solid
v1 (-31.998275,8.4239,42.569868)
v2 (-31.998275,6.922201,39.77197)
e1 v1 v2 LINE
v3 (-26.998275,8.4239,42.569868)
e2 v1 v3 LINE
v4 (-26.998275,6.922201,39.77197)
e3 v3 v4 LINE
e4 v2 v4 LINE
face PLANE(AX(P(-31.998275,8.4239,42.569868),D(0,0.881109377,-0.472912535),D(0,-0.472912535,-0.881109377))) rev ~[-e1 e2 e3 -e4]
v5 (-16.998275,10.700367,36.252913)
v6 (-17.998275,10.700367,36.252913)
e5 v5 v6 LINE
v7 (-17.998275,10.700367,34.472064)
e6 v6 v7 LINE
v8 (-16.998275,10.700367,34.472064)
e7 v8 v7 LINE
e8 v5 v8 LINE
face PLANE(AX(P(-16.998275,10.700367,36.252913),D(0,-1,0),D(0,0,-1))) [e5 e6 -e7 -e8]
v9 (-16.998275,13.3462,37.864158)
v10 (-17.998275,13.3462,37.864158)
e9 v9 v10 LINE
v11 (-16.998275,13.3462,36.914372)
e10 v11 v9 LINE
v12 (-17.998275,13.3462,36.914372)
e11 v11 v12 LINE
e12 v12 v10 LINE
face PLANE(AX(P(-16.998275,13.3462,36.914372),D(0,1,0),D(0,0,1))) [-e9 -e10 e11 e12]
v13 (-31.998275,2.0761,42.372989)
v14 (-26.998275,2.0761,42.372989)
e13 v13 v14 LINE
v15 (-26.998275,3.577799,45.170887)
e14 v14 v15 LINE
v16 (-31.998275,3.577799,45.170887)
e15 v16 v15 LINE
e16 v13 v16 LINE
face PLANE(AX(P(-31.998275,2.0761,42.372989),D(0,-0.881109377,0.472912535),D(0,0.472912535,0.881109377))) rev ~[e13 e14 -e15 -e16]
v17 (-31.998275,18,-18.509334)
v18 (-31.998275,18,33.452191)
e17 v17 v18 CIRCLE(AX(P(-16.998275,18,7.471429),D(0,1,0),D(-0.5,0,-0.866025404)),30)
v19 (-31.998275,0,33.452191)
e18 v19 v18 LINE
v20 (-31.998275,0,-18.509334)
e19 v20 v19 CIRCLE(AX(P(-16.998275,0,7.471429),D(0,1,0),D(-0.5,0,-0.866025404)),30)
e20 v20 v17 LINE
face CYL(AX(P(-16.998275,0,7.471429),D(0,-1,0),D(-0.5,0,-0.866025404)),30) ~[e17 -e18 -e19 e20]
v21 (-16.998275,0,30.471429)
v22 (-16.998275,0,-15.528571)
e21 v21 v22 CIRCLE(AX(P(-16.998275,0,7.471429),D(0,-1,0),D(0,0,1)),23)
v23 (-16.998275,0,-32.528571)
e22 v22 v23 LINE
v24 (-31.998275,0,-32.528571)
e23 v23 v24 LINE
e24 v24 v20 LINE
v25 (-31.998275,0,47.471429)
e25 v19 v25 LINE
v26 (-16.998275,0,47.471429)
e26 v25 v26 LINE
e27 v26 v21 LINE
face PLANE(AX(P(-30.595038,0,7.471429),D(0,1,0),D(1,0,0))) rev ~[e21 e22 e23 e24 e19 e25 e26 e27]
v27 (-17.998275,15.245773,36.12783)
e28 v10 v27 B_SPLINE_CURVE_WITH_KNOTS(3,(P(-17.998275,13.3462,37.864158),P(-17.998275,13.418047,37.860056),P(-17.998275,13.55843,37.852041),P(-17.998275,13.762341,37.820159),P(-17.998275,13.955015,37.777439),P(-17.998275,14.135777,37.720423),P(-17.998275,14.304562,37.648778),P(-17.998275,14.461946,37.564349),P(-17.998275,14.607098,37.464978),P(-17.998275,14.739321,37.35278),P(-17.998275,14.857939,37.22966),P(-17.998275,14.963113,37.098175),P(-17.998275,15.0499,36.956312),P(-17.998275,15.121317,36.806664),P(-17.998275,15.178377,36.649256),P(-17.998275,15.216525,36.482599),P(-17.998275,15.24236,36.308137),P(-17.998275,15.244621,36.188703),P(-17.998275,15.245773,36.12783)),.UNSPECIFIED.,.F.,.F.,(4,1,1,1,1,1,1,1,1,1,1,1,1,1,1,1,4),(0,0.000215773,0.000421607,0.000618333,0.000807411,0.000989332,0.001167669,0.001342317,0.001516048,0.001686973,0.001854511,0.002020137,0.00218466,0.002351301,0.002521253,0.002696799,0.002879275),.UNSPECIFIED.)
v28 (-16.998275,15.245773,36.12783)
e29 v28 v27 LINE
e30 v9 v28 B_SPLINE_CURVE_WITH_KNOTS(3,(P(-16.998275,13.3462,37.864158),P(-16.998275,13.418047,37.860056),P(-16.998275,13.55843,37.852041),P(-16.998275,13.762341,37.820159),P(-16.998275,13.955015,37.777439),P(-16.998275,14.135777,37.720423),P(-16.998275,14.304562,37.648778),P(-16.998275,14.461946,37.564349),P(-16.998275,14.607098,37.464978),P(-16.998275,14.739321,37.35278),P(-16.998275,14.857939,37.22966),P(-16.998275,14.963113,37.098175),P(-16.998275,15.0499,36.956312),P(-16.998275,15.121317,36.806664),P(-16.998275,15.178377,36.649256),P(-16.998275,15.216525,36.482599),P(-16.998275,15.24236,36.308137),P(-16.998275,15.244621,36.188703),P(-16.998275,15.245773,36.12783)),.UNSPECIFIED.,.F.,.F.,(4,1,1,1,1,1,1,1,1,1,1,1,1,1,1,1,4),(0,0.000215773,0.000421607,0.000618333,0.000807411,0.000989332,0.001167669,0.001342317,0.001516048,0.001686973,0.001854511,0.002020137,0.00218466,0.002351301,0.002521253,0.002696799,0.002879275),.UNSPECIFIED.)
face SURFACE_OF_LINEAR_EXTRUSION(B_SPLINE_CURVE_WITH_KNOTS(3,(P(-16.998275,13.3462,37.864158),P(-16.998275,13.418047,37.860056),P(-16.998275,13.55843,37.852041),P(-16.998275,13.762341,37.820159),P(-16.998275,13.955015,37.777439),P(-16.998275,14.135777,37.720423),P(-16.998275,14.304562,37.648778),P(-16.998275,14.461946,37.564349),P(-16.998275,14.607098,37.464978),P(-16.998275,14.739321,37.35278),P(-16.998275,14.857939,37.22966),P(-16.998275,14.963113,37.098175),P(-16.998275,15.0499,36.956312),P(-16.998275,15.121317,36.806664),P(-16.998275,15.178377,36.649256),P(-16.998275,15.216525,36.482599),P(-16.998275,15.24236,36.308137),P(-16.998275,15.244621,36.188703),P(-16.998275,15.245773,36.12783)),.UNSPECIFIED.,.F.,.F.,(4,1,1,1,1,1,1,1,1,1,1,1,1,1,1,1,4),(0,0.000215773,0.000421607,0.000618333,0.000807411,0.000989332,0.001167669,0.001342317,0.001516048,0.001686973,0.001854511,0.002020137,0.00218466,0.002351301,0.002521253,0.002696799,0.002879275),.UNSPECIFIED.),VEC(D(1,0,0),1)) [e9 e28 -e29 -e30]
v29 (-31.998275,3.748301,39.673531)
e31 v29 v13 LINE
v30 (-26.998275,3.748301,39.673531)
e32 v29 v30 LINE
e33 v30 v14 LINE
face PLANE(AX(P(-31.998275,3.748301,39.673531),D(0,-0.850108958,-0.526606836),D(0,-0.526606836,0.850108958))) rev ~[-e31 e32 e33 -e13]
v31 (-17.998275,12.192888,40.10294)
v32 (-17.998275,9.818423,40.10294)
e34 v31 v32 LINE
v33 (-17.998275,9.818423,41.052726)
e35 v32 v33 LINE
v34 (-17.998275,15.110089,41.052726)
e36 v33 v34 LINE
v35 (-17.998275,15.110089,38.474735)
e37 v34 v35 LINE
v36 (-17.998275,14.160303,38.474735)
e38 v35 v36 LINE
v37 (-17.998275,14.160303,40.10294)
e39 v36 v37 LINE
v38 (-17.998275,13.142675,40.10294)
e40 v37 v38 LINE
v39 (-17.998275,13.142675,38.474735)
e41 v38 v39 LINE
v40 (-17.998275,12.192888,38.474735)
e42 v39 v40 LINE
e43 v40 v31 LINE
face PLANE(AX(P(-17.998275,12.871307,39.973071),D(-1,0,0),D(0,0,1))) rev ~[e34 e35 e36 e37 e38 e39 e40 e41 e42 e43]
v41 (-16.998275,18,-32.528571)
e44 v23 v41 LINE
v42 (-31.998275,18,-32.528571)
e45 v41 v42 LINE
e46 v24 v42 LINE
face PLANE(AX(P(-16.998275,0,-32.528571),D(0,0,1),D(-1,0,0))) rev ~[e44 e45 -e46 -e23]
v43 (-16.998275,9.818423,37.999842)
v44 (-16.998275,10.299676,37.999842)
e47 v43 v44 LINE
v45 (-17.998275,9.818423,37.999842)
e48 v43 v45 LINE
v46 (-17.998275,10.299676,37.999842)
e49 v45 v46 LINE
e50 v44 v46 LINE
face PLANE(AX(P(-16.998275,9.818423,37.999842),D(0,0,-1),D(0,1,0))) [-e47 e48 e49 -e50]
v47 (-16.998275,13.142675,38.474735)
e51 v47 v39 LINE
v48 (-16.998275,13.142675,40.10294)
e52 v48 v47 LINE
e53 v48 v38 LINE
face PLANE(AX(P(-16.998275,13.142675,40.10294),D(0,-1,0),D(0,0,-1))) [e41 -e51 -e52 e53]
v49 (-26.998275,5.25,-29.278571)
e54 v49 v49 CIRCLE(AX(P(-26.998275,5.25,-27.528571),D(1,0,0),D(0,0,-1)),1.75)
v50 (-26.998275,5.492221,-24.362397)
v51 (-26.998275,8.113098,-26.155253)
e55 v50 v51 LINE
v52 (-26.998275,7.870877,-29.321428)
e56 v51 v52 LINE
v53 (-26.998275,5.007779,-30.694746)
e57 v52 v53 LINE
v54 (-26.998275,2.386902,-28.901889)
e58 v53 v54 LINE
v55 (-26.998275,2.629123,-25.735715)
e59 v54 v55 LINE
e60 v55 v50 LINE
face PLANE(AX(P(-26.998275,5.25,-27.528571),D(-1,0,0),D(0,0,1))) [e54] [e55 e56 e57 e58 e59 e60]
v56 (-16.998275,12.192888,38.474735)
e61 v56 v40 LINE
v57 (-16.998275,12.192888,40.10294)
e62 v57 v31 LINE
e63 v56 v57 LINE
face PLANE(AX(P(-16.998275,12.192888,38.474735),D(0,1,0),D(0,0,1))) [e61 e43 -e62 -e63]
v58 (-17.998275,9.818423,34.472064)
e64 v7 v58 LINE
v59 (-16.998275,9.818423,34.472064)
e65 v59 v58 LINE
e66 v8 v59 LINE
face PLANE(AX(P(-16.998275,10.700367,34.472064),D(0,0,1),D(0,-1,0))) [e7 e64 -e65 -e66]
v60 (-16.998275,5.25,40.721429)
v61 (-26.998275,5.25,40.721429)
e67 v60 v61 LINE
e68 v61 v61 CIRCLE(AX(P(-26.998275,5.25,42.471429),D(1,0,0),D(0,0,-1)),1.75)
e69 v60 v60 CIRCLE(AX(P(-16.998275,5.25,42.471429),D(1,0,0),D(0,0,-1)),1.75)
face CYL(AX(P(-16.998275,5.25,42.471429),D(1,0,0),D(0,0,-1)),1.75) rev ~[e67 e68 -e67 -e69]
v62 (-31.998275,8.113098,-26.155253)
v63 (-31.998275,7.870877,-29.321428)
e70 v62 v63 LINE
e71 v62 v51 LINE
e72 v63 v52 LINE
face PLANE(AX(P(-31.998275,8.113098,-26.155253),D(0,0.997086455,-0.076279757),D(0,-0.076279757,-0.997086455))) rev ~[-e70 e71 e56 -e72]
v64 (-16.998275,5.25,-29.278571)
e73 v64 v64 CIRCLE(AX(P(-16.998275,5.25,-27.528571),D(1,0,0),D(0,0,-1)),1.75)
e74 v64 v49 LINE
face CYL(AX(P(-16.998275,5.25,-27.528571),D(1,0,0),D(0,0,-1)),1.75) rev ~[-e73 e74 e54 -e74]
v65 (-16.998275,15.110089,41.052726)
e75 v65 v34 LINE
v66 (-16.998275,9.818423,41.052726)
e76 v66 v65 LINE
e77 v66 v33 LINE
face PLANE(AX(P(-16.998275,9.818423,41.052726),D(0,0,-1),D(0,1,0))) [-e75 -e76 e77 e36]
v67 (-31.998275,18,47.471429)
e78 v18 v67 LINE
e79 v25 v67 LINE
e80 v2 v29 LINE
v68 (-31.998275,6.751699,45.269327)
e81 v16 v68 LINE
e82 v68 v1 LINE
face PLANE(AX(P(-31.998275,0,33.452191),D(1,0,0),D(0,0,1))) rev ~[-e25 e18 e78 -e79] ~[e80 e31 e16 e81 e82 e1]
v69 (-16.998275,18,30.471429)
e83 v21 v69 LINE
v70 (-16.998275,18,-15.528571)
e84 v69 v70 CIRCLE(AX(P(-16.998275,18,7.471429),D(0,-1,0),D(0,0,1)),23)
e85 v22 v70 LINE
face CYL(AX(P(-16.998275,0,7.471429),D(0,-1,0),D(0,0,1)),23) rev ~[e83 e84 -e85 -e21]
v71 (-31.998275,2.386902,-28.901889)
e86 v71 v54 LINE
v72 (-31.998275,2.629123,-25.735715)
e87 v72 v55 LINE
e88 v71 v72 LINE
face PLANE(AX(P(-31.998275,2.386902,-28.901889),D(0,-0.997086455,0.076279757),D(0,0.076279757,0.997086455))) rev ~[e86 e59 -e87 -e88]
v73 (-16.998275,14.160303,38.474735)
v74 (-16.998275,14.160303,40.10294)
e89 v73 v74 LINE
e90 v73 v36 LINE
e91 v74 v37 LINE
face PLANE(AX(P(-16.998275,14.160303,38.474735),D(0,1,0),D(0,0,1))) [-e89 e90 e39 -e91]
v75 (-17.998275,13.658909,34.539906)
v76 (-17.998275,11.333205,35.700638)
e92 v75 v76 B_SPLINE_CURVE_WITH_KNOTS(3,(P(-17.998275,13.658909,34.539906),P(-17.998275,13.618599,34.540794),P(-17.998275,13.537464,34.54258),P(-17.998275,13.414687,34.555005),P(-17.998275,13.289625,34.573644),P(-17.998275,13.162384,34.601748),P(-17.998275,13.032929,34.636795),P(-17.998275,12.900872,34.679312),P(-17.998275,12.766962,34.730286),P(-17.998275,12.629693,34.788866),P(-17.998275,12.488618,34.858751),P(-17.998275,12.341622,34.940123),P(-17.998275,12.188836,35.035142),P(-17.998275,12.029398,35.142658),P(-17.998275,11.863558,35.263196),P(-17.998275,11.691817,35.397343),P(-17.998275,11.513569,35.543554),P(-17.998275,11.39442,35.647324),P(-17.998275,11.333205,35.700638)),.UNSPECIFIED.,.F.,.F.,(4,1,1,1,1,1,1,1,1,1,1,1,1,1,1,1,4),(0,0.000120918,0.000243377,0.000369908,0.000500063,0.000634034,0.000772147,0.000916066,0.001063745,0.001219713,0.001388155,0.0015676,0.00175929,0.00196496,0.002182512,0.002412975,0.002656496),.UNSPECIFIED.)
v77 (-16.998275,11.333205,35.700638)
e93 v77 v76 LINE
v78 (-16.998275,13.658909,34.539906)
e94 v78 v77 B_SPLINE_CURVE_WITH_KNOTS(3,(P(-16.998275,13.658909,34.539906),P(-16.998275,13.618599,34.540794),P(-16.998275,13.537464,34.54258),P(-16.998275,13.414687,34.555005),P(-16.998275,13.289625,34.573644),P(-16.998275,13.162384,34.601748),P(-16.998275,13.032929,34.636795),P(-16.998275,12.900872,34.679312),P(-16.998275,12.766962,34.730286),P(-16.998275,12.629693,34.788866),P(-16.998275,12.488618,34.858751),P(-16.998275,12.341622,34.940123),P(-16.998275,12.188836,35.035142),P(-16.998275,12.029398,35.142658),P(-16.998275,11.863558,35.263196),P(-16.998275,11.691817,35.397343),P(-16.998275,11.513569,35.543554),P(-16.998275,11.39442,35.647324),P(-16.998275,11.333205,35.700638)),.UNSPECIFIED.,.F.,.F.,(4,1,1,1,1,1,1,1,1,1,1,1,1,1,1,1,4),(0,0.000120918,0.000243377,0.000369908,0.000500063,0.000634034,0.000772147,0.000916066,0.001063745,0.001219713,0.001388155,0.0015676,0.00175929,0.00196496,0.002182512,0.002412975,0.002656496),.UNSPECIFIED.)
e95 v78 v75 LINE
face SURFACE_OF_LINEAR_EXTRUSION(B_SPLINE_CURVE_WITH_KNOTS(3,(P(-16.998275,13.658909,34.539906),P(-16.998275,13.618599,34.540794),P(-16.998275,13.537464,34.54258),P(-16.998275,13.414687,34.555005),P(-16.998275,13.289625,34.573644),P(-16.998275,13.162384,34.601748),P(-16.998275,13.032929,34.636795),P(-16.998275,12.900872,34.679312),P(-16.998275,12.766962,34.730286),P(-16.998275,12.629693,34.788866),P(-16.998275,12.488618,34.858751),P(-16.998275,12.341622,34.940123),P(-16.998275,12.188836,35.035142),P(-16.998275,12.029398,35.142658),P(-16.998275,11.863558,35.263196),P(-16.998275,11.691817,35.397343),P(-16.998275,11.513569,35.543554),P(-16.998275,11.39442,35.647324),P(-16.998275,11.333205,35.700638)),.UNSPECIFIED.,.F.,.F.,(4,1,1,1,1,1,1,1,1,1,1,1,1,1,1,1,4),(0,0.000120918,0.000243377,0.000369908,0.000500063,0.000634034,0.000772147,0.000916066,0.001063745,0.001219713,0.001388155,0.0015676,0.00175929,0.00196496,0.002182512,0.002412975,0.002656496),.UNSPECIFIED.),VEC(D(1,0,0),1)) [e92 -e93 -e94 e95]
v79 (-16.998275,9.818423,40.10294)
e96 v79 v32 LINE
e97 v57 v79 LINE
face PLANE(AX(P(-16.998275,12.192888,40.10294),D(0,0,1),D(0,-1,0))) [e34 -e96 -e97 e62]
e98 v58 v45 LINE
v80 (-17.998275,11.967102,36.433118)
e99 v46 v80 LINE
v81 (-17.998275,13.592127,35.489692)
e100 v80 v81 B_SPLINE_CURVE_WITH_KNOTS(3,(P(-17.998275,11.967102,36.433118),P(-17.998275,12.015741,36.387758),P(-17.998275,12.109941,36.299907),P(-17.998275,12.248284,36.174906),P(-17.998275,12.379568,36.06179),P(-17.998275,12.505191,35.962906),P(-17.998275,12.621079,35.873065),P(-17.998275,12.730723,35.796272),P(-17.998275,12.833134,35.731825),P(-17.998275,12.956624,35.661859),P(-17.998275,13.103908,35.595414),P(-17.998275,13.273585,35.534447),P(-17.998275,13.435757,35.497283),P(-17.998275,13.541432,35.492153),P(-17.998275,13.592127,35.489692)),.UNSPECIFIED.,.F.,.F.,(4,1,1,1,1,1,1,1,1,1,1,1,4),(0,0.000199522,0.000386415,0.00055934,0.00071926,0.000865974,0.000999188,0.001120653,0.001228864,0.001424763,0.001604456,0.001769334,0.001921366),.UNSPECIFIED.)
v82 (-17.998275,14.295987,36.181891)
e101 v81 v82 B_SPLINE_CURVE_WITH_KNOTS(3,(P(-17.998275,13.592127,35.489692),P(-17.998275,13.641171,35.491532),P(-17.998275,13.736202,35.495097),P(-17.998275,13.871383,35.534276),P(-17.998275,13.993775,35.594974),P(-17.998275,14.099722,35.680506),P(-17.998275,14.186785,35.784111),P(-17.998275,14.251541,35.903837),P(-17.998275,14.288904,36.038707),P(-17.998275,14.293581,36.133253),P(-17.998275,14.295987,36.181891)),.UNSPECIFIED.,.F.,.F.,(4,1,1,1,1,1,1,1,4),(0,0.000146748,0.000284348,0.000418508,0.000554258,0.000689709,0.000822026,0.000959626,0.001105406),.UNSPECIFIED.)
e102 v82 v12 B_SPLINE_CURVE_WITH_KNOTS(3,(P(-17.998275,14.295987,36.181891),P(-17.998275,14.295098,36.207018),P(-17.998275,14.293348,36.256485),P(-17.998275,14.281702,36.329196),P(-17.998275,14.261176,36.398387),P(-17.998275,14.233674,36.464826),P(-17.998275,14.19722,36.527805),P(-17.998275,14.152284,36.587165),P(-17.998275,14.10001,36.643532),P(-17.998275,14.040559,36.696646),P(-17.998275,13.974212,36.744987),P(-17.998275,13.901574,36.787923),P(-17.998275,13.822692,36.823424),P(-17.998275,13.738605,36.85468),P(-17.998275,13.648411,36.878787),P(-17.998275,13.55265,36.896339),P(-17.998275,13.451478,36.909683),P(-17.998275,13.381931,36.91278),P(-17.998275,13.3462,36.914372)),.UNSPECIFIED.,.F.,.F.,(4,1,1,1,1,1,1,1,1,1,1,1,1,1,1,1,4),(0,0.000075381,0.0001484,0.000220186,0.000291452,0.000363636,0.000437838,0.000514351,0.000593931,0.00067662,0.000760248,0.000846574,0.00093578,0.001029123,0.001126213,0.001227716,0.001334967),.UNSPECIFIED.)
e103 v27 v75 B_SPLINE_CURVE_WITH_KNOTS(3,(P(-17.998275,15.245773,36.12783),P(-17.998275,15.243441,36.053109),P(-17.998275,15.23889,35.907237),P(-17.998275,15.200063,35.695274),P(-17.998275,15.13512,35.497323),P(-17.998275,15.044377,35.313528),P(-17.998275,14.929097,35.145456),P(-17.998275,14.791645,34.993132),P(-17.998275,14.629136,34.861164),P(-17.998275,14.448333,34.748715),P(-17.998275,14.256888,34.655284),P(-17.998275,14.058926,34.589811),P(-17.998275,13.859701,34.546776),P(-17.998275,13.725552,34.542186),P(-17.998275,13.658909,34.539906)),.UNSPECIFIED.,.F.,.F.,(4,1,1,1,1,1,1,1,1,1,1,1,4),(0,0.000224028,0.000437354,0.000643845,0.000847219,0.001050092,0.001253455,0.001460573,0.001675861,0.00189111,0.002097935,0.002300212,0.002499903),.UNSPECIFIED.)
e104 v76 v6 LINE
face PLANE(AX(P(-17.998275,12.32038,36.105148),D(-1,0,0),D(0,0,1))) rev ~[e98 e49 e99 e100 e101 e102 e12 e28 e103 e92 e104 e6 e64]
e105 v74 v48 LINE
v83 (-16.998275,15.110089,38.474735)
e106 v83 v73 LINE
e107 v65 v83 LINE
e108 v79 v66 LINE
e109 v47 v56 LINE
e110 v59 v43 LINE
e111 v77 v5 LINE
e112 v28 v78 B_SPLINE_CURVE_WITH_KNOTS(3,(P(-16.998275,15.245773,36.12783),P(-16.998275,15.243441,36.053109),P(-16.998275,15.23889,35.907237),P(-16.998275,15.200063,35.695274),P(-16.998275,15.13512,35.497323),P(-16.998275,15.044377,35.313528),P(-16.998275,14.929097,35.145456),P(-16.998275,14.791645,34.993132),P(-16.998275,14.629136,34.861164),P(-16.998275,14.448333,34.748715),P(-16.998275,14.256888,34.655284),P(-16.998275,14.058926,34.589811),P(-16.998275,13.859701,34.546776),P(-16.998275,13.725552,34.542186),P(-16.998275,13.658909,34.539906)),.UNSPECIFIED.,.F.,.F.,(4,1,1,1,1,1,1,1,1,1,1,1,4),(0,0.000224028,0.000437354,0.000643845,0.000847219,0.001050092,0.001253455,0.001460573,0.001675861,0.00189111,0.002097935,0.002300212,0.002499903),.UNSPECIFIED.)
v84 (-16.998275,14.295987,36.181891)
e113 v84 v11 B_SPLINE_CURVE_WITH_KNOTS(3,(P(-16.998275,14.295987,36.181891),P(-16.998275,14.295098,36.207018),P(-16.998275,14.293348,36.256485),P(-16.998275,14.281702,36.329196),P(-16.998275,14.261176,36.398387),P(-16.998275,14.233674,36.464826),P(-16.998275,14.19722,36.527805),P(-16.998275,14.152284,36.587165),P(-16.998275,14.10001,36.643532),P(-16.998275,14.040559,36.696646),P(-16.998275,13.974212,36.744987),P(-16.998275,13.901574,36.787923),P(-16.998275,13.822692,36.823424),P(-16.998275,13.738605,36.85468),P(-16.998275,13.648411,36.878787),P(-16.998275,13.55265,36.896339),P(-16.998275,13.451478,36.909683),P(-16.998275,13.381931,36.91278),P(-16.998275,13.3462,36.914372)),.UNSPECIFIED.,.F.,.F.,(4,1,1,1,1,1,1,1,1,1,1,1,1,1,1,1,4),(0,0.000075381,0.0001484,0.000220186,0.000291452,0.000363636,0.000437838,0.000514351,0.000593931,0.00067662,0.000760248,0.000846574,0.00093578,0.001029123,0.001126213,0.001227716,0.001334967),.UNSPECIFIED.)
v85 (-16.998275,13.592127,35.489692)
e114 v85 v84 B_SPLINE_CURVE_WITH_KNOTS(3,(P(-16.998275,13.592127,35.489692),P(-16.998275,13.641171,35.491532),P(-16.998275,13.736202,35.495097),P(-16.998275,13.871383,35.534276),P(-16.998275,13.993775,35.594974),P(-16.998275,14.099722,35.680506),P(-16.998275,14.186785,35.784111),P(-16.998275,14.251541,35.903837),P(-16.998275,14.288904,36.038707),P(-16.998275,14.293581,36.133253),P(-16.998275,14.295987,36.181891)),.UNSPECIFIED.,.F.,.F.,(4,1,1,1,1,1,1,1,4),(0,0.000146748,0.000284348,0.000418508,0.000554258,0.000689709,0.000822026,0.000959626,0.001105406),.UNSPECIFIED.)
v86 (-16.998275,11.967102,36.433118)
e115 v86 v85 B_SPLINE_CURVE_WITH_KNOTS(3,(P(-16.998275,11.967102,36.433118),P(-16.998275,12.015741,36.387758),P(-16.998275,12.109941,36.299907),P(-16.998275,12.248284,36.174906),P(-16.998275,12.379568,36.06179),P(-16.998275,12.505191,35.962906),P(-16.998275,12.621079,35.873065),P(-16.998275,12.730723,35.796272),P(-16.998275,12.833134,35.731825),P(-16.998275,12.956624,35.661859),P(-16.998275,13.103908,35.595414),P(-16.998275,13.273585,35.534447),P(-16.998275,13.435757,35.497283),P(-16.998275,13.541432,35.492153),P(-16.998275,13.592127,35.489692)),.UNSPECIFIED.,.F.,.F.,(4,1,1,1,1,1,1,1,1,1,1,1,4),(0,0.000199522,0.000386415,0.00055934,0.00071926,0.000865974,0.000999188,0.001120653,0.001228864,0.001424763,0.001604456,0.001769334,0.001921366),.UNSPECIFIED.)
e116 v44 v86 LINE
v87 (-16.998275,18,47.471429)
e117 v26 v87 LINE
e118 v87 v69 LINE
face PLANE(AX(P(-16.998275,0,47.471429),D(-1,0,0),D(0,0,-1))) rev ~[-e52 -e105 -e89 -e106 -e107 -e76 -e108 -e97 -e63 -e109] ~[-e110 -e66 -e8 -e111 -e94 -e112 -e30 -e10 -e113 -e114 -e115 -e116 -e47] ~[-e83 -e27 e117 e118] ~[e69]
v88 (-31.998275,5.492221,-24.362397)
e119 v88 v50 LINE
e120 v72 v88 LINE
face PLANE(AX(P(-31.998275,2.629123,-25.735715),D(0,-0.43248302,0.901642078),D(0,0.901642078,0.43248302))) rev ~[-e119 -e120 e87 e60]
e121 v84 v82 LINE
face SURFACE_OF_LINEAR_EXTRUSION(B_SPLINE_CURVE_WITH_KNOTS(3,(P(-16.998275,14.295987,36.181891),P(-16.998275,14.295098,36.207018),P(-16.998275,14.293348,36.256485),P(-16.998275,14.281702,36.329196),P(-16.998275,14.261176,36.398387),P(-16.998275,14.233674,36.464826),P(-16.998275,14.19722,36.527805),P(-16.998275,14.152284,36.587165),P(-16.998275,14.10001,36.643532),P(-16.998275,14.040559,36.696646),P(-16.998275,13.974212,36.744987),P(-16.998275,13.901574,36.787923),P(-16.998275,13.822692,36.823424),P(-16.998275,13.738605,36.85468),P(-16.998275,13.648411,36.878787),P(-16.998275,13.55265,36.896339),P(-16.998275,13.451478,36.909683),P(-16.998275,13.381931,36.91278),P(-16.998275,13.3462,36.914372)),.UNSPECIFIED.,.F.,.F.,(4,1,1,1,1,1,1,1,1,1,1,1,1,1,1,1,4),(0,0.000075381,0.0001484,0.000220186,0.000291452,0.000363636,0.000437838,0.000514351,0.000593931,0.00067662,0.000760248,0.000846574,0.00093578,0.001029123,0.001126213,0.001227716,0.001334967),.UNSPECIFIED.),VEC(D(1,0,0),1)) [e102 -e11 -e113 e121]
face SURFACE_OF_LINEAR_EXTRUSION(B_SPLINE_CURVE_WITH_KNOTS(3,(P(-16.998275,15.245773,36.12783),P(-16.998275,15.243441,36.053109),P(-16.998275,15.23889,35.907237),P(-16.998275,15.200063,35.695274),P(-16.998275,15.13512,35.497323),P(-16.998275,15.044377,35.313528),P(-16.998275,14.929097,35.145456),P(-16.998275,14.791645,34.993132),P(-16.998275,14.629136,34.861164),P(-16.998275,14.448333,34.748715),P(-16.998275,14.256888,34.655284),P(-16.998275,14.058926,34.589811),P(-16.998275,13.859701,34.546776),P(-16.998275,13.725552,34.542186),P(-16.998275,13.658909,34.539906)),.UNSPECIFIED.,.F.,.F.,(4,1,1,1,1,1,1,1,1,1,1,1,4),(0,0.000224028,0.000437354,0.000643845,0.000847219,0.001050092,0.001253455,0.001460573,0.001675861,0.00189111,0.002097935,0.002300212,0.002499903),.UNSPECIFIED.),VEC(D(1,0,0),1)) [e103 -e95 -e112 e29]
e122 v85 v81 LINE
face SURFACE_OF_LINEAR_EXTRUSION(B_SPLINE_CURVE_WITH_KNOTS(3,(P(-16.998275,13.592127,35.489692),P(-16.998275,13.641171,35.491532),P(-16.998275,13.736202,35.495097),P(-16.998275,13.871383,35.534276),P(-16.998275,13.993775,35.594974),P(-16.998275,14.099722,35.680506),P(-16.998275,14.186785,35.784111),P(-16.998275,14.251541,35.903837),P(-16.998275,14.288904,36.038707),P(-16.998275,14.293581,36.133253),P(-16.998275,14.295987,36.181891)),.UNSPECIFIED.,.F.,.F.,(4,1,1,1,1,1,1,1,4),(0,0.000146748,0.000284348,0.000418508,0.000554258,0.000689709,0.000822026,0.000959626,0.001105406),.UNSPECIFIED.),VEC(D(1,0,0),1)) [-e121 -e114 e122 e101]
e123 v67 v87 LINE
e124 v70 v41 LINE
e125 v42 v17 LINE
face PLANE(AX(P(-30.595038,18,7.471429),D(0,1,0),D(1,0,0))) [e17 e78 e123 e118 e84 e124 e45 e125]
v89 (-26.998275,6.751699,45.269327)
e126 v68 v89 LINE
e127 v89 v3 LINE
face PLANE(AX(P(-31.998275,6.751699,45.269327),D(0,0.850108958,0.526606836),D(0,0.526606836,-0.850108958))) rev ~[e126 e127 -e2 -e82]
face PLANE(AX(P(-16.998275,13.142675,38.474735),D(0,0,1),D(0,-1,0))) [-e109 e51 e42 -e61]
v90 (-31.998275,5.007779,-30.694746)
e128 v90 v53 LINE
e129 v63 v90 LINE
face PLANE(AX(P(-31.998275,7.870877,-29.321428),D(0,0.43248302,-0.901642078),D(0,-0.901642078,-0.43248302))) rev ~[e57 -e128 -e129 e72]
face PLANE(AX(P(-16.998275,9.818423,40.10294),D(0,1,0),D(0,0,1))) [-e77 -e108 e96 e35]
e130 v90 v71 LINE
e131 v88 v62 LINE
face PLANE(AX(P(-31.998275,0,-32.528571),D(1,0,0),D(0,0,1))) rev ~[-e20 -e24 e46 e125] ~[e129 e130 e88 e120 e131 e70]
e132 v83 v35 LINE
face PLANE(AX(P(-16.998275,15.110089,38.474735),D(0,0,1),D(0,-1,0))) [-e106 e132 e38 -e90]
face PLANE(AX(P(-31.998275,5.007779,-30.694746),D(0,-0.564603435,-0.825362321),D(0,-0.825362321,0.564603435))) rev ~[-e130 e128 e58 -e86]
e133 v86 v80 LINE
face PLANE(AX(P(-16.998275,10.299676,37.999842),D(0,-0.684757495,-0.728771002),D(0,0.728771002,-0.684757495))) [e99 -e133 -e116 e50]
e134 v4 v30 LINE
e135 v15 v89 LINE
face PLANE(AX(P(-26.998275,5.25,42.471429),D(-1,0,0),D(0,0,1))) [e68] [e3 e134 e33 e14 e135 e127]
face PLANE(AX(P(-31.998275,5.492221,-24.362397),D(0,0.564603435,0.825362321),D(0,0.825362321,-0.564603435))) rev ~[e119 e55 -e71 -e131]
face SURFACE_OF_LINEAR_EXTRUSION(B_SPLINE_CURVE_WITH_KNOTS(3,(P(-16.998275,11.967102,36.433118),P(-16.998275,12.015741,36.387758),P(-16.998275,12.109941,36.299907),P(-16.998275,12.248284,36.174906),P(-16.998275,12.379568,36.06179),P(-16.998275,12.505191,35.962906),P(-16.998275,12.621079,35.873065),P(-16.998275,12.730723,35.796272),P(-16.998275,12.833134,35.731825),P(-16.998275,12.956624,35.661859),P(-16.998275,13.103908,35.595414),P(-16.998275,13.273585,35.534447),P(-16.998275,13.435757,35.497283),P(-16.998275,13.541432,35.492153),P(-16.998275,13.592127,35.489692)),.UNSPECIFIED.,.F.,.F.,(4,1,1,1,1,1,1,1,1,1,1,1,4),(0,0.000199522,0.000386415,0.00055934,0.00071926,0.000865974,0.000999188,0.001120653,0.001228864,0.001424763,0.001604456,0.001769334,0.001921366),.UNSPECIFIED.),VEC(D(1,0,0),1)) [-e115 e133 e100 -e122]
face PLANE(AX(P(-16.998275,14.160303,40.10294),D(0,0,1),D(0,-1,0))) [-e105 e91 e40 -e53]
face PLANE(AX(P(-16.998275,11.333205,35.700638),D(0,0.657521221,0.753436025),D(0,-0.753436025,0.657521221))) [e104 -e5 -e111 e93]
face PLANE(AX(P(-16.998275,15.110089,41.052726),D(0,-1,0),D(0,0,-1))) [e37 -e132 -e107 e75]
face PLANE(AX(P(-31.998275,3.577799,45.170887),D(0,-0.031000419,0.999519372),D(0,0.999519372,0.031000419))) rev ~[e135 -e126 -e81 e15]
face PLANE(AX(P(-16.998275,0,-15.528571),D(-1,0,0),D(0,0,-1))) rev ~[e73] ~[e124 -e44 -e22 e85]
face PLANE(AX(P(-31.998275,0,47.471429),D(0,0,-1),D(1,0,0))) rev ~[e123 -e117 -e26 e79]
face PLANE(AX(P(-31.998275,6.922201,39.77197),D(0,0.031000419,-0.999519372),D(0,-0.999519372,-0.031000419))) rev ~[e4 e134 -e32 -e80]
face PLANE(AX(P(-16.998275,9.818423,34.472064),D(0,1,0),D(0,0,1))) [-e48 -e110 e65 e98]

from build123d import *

# Parameters (mm, degrees)
BOSS_EXTRUDE1_DEPTH = 18
SKETCH2_R           = 1.75
CUT_EXTRUDE1_DEPTH  = 31
CUT_EXTRUDE2_DEPTH  = 1
CUT_EXTRUDE3_DEPTH  = 5


with BuildPart() as part:
    # Sketch1 → Boss-Extrude1 (new body)
    with BuildSketch(Plane(origin=(0, 0, 0), x_dir=(1, 0, 0), z_dir=(0, 1, 0))):
        with BuildLine():
            ThreePointArc((-31.998275301, 18.509333542), (-46.998275301, -7.471428571), (-31.998275301, -33.452190685))
            Line((-31.998275301, -33.452190685), (-31.998275301, -47.471428571))
            Line((-31.998275301, -47.471428571), (-16.998275301, -47.471428571))
            Line((-16.998275301, -47.471428571), (-16.998275301, -30.471428571))
            ThreePointArc((-16.998275301, -30.471428571), (-39.998275301, -7.471428571), (-16.998275301, 15.528571429))
            Line((-16.998275301, 15.528571429), (-16.998275301, 32.528571429))
            Line((-16.998275301, 32.528571429), (-31.998275301, 32.528571429))
            Line((-31.998275301, 32.528571429), (-31.998275301, 18.509333542))
        make_face()
    extrude(amount=BOSS_EXTRUDE1_DEPTH)

    # Sketch2 → Cut-Extrude1 (cut, through all)
    with BuildSketch(Plane(origin=(-16.998275301, 0, 0), x_dir=(0, 0, -1), z_dir=(1, 0, 0))):
        with Locations((-42.471428571, 5.25)):
            Circle(SKETCH2_R)
        with Locations((27.528571429, 5.25)):
            Circle(SKETCH2_R)
    extrude(amount=-CUT_EXTRUDE1_DEPTH, mode=Mode.SUBTRACT)

    # Sketch3 → Cut-Extrude2 (cut)
    with BuildSketch(Plane(origin=(-16.998275301, 0, 0), x_dir=(0, 0, -1), z_dir=(1, 0, 0))):
        Polygon((-41.052726264, 15.110089197), (-38.474734811, 15.110089197), (-38.474734811, 14.160302873), (-40.102939939, 14.160302873), (-40.102939939, 13.142674667), (-38.474734811, 13.142674667), (-38.474734811, 12.192888343), (-40.102939939, 12.192888343), (-40.102939939, 9.818422531), (-41.052726264, 9.818422531), align=None)
        with BuildLine():
            Line((-36.914371563, 13.346200308), (-37.864157888, 13.346200308))
            add(Edge.make_bspline(
                [(-37.864157888, 13.346200308), (-37.860055906, 13.418046619), (-37.852040881, 13.558429997), (-37.820159135, 13.762341347), (-37.77743869, 13.955015151), (-37.720422585, 14.135777413), (-37.648778118, 14.304562451), (-37.564348886, 14.461945662), (-37.464977915, 14.60709842), (-37.352780144, 14.739320716), (-37.229660384, 14.857938558), (-37.098174722, 14.963112588), (-36.956311907, 15.049899551), (-36.806663889, 15.121317187), (-36.64925615, 15.178376559), (-36.482599366, 15.216525367), (-36.30813654, 15.242360114), (-36.188702609, 15.244620758), (-36.127829763, 15.245772958)],
                knots=[0, 0, 0, 0, 0.000215773, 0.000421607, 0.000618333, 0.000807411, 0.000989332, 0.001167669, 0.001342317, 0.001516048, 0.001686973, 0.001854511, 0.002020137, 0.00218466, 0.002351301, 0.002521253, 0.002696799, 0.002879275, 0.002879275, 0.002879275, 0.002879275], degree=3))
            add(Edge.make_bspline(
                [(-36.127829763, 15.245772958), (-36.053109208, 15.24344148), (-35.907237174, 15.238889888), (-35.695273537, 15.200063297), (-35.497322677, 15.135119825), (-35.313528483, 15.044376667), (-35.145455629, 14.929096996), (-34.993131985, 14.791644856), (-34.861164061, 14.629136428), (-34.748715142, 14.448333423), (-34.65528353, 14.256888487), (-34.589810548, 14.058926484), (-34.546775862, 13.859700523), (-34.542185946, 13.725551844), (-34.539905751, 13.658908976)],
                knots=[0, 0, 0, 0, 0.000224028, 0.000437354, 0.000643845, 0.000847219, 0.001050092, 0.001253455, 0.001460573, 0.001675861, 0.00189111, 0.002097935, 0.002300212, 0.002499903, 0.002499903, 0.002499903, 0.002499903], degree=3))
            add(Edge.make_bspline(
                [(-34.539905751, 13.658908976), (-34.540793539, 13.618598659), (-34.542580436, 13.537463948), (-34.555004968, 13.414687217), (-34.573644221, 13.289624762), (-34.601747672, 13.162383812), (-34.63679498, 13.032928701), (-34.679312431, 12.900872012), (-34.730286257, 12.76696246), (-34.788865811, 12.629692915), (-34.858751366, 12.488617716), (-34.940123382, 12.341622092), (-35.035141655, 12.188836439), (-35.142658484, 12.02939808), (-35.263196054, 11.863558473), (-35.397342788, 11.69181718), (-35.543553632, 11.513569038), (-35.64732358, 11.394420158), (-35.700637923, 11.333204515)],
                knots=[0, 0, 0, 0, 0.000120918, 0.000243377, 0.000369908, 0.000500063, 0.000634034, 0.000772147, 0.000916066, 0.001063745, 0.001219713, 0.001388155, 0.0015676, 0.00175929, 0.00196496, 0.002182512, 0.002412975, 0.002656496, 0.002656496, 0.002656496, 0.002656496], degree=3))
            Line((-35.700637923, 11.333204515), (-36.25291323, 10.700366975))
            Line((-36.25291323, 10.700366975), (-34.472063871, 10.700366975))
            Line((-34.472063871, 10.700366975), (-34.472063871, 9.818422531))
            Line((-34.472063871, 9.818422531), (-37.999841648, 9.818422531))
            Line((-37.999841648, 9.818422531), (-37.999841648, 10.299675869))
            Line((-37.999841648, 10.299675869), (-36.433118224, 11.967102085))
            add(Edge.make_bspline(
                [(-36.433118224, 11.967102085), (-36.387757555, 12.015741425), (-36.299907391, 12.109941403), (-36.17490566, 12.248284093), (-36.061790136, 12.379568004), (-35.962906361, 12.505191043), (-35.873065041, 12.621078512), (-35.796272194, 12.730723404), (-35.731825226, 12.833134488), (-35.661858901, 12.956624369), (-35.595413893, 13.103908028), (-35.534446576, 13.273584842), (-35.497282777, 13.435756798), (-35.492152997, 13.541431531), (-35.489692076, 13.592127125)],
                knots=[0, 0, 0, 0, 0.000199522, 0.000386415, 0.00055934, 0.00071926, 0.000865974, 0.000999188, 0.001120653, 0.001228864, 0.001424763, 0.001604456, 0.001769334, 0.001921366, 0.001921366, 0.001921366, 0.001921366], degree=3))
            add(Edge.make_bspline(
                [(-35.489692076, 13.592127125), (-35.491532047, 13.641171201), (-35.495097287, 13.736201961), (-35.534276384, 13.871382712), (-35.594974, 13.993775082), (-35.680505512, 14.09972185), (-35.784110962, 14.186785334), (-35.903836792, 14.251540708), (-36.038706883, 14.288904261), (-36.133253387, 14.293580844), (-36.181891261, 14.295986633)],
                knots=[0, 0, 0, 0, 0.000146748, 0.000284348, 0.000418508, 0.000554258, 0.000689709, 0.000822026, 0.000959626, 0.001105406, 0.001105406, 0.001105406, 0.001105406], degree=3))
            add(Edge.make_bspline(
                [(-36.181891261, 14.295986633), (-36.207018207, 14.295097906), (-36.256484634, 14.293348303), (-36.329196415, 14.281701669), (-36.3983869, 14.261175694), (-36.464826215, 14.233673776), (-36.527805303, 14.197219786), (-36.587165312, 14.152284435), (-36.643531673, 14.100009634), (-36.696645869, 14.040558837), (-36.74498672, 13.974211731), (-36.787922888, 13.90157426), (-36.823423951, 13.822691512), (-36.854680377, 13.738604861), (-36.878786828, 13.648411147), (-36.896339316, 13.552650169), (-36.909683299, 13.451477719), (-36.912780379, 13.381931173), (-36.914371563, 13.346200308)],
                knots=[0, 0, 0, 0, 7.5381e-05, 0.0001484, 0.000220186, 0.000291452, 0.000363636, 0.000437838, 0.000514351, 0.000593931, 0.00067662, 0.000760248, 0.000846574, 0.00093578, 0.001029123, 0.001126213, 0.001227716, 0.001334967, 0.001334967, 0.001334967, 0.001334967], degree=3))
        make_face()
    extrude(amount=-CUT_EXTRUDE2_DEPTH, mode=Mode.SUBTRACT)

    # Sketch4 → Cut-Extrude3 (cut)
    with BuildSketch(Plane.ZY.offset(31.998275301)):
        Polygon((-25.735714731, 2.629122629), (-24.362396696, 5.49222076), (-26.155253394, 8.113098131), (-29.321428126, 7.870877371), (-30.694746161, 5.00777924), (-28.901889463, 2.386901869), align=None)
        Polygon((45.170887067, 3.577798708), (45.269326619, 6.751698988), (42.569868123, 8.42390028), (39.771970075, 6.922201292), (39.673530524, 3.748301012), (42.37298902, 2.07609972), align=None)
    extrude(amount=-CUT_EXTRUDE3_DEPTH, mode=Mode.SUBTRACT)


solid = part.part
